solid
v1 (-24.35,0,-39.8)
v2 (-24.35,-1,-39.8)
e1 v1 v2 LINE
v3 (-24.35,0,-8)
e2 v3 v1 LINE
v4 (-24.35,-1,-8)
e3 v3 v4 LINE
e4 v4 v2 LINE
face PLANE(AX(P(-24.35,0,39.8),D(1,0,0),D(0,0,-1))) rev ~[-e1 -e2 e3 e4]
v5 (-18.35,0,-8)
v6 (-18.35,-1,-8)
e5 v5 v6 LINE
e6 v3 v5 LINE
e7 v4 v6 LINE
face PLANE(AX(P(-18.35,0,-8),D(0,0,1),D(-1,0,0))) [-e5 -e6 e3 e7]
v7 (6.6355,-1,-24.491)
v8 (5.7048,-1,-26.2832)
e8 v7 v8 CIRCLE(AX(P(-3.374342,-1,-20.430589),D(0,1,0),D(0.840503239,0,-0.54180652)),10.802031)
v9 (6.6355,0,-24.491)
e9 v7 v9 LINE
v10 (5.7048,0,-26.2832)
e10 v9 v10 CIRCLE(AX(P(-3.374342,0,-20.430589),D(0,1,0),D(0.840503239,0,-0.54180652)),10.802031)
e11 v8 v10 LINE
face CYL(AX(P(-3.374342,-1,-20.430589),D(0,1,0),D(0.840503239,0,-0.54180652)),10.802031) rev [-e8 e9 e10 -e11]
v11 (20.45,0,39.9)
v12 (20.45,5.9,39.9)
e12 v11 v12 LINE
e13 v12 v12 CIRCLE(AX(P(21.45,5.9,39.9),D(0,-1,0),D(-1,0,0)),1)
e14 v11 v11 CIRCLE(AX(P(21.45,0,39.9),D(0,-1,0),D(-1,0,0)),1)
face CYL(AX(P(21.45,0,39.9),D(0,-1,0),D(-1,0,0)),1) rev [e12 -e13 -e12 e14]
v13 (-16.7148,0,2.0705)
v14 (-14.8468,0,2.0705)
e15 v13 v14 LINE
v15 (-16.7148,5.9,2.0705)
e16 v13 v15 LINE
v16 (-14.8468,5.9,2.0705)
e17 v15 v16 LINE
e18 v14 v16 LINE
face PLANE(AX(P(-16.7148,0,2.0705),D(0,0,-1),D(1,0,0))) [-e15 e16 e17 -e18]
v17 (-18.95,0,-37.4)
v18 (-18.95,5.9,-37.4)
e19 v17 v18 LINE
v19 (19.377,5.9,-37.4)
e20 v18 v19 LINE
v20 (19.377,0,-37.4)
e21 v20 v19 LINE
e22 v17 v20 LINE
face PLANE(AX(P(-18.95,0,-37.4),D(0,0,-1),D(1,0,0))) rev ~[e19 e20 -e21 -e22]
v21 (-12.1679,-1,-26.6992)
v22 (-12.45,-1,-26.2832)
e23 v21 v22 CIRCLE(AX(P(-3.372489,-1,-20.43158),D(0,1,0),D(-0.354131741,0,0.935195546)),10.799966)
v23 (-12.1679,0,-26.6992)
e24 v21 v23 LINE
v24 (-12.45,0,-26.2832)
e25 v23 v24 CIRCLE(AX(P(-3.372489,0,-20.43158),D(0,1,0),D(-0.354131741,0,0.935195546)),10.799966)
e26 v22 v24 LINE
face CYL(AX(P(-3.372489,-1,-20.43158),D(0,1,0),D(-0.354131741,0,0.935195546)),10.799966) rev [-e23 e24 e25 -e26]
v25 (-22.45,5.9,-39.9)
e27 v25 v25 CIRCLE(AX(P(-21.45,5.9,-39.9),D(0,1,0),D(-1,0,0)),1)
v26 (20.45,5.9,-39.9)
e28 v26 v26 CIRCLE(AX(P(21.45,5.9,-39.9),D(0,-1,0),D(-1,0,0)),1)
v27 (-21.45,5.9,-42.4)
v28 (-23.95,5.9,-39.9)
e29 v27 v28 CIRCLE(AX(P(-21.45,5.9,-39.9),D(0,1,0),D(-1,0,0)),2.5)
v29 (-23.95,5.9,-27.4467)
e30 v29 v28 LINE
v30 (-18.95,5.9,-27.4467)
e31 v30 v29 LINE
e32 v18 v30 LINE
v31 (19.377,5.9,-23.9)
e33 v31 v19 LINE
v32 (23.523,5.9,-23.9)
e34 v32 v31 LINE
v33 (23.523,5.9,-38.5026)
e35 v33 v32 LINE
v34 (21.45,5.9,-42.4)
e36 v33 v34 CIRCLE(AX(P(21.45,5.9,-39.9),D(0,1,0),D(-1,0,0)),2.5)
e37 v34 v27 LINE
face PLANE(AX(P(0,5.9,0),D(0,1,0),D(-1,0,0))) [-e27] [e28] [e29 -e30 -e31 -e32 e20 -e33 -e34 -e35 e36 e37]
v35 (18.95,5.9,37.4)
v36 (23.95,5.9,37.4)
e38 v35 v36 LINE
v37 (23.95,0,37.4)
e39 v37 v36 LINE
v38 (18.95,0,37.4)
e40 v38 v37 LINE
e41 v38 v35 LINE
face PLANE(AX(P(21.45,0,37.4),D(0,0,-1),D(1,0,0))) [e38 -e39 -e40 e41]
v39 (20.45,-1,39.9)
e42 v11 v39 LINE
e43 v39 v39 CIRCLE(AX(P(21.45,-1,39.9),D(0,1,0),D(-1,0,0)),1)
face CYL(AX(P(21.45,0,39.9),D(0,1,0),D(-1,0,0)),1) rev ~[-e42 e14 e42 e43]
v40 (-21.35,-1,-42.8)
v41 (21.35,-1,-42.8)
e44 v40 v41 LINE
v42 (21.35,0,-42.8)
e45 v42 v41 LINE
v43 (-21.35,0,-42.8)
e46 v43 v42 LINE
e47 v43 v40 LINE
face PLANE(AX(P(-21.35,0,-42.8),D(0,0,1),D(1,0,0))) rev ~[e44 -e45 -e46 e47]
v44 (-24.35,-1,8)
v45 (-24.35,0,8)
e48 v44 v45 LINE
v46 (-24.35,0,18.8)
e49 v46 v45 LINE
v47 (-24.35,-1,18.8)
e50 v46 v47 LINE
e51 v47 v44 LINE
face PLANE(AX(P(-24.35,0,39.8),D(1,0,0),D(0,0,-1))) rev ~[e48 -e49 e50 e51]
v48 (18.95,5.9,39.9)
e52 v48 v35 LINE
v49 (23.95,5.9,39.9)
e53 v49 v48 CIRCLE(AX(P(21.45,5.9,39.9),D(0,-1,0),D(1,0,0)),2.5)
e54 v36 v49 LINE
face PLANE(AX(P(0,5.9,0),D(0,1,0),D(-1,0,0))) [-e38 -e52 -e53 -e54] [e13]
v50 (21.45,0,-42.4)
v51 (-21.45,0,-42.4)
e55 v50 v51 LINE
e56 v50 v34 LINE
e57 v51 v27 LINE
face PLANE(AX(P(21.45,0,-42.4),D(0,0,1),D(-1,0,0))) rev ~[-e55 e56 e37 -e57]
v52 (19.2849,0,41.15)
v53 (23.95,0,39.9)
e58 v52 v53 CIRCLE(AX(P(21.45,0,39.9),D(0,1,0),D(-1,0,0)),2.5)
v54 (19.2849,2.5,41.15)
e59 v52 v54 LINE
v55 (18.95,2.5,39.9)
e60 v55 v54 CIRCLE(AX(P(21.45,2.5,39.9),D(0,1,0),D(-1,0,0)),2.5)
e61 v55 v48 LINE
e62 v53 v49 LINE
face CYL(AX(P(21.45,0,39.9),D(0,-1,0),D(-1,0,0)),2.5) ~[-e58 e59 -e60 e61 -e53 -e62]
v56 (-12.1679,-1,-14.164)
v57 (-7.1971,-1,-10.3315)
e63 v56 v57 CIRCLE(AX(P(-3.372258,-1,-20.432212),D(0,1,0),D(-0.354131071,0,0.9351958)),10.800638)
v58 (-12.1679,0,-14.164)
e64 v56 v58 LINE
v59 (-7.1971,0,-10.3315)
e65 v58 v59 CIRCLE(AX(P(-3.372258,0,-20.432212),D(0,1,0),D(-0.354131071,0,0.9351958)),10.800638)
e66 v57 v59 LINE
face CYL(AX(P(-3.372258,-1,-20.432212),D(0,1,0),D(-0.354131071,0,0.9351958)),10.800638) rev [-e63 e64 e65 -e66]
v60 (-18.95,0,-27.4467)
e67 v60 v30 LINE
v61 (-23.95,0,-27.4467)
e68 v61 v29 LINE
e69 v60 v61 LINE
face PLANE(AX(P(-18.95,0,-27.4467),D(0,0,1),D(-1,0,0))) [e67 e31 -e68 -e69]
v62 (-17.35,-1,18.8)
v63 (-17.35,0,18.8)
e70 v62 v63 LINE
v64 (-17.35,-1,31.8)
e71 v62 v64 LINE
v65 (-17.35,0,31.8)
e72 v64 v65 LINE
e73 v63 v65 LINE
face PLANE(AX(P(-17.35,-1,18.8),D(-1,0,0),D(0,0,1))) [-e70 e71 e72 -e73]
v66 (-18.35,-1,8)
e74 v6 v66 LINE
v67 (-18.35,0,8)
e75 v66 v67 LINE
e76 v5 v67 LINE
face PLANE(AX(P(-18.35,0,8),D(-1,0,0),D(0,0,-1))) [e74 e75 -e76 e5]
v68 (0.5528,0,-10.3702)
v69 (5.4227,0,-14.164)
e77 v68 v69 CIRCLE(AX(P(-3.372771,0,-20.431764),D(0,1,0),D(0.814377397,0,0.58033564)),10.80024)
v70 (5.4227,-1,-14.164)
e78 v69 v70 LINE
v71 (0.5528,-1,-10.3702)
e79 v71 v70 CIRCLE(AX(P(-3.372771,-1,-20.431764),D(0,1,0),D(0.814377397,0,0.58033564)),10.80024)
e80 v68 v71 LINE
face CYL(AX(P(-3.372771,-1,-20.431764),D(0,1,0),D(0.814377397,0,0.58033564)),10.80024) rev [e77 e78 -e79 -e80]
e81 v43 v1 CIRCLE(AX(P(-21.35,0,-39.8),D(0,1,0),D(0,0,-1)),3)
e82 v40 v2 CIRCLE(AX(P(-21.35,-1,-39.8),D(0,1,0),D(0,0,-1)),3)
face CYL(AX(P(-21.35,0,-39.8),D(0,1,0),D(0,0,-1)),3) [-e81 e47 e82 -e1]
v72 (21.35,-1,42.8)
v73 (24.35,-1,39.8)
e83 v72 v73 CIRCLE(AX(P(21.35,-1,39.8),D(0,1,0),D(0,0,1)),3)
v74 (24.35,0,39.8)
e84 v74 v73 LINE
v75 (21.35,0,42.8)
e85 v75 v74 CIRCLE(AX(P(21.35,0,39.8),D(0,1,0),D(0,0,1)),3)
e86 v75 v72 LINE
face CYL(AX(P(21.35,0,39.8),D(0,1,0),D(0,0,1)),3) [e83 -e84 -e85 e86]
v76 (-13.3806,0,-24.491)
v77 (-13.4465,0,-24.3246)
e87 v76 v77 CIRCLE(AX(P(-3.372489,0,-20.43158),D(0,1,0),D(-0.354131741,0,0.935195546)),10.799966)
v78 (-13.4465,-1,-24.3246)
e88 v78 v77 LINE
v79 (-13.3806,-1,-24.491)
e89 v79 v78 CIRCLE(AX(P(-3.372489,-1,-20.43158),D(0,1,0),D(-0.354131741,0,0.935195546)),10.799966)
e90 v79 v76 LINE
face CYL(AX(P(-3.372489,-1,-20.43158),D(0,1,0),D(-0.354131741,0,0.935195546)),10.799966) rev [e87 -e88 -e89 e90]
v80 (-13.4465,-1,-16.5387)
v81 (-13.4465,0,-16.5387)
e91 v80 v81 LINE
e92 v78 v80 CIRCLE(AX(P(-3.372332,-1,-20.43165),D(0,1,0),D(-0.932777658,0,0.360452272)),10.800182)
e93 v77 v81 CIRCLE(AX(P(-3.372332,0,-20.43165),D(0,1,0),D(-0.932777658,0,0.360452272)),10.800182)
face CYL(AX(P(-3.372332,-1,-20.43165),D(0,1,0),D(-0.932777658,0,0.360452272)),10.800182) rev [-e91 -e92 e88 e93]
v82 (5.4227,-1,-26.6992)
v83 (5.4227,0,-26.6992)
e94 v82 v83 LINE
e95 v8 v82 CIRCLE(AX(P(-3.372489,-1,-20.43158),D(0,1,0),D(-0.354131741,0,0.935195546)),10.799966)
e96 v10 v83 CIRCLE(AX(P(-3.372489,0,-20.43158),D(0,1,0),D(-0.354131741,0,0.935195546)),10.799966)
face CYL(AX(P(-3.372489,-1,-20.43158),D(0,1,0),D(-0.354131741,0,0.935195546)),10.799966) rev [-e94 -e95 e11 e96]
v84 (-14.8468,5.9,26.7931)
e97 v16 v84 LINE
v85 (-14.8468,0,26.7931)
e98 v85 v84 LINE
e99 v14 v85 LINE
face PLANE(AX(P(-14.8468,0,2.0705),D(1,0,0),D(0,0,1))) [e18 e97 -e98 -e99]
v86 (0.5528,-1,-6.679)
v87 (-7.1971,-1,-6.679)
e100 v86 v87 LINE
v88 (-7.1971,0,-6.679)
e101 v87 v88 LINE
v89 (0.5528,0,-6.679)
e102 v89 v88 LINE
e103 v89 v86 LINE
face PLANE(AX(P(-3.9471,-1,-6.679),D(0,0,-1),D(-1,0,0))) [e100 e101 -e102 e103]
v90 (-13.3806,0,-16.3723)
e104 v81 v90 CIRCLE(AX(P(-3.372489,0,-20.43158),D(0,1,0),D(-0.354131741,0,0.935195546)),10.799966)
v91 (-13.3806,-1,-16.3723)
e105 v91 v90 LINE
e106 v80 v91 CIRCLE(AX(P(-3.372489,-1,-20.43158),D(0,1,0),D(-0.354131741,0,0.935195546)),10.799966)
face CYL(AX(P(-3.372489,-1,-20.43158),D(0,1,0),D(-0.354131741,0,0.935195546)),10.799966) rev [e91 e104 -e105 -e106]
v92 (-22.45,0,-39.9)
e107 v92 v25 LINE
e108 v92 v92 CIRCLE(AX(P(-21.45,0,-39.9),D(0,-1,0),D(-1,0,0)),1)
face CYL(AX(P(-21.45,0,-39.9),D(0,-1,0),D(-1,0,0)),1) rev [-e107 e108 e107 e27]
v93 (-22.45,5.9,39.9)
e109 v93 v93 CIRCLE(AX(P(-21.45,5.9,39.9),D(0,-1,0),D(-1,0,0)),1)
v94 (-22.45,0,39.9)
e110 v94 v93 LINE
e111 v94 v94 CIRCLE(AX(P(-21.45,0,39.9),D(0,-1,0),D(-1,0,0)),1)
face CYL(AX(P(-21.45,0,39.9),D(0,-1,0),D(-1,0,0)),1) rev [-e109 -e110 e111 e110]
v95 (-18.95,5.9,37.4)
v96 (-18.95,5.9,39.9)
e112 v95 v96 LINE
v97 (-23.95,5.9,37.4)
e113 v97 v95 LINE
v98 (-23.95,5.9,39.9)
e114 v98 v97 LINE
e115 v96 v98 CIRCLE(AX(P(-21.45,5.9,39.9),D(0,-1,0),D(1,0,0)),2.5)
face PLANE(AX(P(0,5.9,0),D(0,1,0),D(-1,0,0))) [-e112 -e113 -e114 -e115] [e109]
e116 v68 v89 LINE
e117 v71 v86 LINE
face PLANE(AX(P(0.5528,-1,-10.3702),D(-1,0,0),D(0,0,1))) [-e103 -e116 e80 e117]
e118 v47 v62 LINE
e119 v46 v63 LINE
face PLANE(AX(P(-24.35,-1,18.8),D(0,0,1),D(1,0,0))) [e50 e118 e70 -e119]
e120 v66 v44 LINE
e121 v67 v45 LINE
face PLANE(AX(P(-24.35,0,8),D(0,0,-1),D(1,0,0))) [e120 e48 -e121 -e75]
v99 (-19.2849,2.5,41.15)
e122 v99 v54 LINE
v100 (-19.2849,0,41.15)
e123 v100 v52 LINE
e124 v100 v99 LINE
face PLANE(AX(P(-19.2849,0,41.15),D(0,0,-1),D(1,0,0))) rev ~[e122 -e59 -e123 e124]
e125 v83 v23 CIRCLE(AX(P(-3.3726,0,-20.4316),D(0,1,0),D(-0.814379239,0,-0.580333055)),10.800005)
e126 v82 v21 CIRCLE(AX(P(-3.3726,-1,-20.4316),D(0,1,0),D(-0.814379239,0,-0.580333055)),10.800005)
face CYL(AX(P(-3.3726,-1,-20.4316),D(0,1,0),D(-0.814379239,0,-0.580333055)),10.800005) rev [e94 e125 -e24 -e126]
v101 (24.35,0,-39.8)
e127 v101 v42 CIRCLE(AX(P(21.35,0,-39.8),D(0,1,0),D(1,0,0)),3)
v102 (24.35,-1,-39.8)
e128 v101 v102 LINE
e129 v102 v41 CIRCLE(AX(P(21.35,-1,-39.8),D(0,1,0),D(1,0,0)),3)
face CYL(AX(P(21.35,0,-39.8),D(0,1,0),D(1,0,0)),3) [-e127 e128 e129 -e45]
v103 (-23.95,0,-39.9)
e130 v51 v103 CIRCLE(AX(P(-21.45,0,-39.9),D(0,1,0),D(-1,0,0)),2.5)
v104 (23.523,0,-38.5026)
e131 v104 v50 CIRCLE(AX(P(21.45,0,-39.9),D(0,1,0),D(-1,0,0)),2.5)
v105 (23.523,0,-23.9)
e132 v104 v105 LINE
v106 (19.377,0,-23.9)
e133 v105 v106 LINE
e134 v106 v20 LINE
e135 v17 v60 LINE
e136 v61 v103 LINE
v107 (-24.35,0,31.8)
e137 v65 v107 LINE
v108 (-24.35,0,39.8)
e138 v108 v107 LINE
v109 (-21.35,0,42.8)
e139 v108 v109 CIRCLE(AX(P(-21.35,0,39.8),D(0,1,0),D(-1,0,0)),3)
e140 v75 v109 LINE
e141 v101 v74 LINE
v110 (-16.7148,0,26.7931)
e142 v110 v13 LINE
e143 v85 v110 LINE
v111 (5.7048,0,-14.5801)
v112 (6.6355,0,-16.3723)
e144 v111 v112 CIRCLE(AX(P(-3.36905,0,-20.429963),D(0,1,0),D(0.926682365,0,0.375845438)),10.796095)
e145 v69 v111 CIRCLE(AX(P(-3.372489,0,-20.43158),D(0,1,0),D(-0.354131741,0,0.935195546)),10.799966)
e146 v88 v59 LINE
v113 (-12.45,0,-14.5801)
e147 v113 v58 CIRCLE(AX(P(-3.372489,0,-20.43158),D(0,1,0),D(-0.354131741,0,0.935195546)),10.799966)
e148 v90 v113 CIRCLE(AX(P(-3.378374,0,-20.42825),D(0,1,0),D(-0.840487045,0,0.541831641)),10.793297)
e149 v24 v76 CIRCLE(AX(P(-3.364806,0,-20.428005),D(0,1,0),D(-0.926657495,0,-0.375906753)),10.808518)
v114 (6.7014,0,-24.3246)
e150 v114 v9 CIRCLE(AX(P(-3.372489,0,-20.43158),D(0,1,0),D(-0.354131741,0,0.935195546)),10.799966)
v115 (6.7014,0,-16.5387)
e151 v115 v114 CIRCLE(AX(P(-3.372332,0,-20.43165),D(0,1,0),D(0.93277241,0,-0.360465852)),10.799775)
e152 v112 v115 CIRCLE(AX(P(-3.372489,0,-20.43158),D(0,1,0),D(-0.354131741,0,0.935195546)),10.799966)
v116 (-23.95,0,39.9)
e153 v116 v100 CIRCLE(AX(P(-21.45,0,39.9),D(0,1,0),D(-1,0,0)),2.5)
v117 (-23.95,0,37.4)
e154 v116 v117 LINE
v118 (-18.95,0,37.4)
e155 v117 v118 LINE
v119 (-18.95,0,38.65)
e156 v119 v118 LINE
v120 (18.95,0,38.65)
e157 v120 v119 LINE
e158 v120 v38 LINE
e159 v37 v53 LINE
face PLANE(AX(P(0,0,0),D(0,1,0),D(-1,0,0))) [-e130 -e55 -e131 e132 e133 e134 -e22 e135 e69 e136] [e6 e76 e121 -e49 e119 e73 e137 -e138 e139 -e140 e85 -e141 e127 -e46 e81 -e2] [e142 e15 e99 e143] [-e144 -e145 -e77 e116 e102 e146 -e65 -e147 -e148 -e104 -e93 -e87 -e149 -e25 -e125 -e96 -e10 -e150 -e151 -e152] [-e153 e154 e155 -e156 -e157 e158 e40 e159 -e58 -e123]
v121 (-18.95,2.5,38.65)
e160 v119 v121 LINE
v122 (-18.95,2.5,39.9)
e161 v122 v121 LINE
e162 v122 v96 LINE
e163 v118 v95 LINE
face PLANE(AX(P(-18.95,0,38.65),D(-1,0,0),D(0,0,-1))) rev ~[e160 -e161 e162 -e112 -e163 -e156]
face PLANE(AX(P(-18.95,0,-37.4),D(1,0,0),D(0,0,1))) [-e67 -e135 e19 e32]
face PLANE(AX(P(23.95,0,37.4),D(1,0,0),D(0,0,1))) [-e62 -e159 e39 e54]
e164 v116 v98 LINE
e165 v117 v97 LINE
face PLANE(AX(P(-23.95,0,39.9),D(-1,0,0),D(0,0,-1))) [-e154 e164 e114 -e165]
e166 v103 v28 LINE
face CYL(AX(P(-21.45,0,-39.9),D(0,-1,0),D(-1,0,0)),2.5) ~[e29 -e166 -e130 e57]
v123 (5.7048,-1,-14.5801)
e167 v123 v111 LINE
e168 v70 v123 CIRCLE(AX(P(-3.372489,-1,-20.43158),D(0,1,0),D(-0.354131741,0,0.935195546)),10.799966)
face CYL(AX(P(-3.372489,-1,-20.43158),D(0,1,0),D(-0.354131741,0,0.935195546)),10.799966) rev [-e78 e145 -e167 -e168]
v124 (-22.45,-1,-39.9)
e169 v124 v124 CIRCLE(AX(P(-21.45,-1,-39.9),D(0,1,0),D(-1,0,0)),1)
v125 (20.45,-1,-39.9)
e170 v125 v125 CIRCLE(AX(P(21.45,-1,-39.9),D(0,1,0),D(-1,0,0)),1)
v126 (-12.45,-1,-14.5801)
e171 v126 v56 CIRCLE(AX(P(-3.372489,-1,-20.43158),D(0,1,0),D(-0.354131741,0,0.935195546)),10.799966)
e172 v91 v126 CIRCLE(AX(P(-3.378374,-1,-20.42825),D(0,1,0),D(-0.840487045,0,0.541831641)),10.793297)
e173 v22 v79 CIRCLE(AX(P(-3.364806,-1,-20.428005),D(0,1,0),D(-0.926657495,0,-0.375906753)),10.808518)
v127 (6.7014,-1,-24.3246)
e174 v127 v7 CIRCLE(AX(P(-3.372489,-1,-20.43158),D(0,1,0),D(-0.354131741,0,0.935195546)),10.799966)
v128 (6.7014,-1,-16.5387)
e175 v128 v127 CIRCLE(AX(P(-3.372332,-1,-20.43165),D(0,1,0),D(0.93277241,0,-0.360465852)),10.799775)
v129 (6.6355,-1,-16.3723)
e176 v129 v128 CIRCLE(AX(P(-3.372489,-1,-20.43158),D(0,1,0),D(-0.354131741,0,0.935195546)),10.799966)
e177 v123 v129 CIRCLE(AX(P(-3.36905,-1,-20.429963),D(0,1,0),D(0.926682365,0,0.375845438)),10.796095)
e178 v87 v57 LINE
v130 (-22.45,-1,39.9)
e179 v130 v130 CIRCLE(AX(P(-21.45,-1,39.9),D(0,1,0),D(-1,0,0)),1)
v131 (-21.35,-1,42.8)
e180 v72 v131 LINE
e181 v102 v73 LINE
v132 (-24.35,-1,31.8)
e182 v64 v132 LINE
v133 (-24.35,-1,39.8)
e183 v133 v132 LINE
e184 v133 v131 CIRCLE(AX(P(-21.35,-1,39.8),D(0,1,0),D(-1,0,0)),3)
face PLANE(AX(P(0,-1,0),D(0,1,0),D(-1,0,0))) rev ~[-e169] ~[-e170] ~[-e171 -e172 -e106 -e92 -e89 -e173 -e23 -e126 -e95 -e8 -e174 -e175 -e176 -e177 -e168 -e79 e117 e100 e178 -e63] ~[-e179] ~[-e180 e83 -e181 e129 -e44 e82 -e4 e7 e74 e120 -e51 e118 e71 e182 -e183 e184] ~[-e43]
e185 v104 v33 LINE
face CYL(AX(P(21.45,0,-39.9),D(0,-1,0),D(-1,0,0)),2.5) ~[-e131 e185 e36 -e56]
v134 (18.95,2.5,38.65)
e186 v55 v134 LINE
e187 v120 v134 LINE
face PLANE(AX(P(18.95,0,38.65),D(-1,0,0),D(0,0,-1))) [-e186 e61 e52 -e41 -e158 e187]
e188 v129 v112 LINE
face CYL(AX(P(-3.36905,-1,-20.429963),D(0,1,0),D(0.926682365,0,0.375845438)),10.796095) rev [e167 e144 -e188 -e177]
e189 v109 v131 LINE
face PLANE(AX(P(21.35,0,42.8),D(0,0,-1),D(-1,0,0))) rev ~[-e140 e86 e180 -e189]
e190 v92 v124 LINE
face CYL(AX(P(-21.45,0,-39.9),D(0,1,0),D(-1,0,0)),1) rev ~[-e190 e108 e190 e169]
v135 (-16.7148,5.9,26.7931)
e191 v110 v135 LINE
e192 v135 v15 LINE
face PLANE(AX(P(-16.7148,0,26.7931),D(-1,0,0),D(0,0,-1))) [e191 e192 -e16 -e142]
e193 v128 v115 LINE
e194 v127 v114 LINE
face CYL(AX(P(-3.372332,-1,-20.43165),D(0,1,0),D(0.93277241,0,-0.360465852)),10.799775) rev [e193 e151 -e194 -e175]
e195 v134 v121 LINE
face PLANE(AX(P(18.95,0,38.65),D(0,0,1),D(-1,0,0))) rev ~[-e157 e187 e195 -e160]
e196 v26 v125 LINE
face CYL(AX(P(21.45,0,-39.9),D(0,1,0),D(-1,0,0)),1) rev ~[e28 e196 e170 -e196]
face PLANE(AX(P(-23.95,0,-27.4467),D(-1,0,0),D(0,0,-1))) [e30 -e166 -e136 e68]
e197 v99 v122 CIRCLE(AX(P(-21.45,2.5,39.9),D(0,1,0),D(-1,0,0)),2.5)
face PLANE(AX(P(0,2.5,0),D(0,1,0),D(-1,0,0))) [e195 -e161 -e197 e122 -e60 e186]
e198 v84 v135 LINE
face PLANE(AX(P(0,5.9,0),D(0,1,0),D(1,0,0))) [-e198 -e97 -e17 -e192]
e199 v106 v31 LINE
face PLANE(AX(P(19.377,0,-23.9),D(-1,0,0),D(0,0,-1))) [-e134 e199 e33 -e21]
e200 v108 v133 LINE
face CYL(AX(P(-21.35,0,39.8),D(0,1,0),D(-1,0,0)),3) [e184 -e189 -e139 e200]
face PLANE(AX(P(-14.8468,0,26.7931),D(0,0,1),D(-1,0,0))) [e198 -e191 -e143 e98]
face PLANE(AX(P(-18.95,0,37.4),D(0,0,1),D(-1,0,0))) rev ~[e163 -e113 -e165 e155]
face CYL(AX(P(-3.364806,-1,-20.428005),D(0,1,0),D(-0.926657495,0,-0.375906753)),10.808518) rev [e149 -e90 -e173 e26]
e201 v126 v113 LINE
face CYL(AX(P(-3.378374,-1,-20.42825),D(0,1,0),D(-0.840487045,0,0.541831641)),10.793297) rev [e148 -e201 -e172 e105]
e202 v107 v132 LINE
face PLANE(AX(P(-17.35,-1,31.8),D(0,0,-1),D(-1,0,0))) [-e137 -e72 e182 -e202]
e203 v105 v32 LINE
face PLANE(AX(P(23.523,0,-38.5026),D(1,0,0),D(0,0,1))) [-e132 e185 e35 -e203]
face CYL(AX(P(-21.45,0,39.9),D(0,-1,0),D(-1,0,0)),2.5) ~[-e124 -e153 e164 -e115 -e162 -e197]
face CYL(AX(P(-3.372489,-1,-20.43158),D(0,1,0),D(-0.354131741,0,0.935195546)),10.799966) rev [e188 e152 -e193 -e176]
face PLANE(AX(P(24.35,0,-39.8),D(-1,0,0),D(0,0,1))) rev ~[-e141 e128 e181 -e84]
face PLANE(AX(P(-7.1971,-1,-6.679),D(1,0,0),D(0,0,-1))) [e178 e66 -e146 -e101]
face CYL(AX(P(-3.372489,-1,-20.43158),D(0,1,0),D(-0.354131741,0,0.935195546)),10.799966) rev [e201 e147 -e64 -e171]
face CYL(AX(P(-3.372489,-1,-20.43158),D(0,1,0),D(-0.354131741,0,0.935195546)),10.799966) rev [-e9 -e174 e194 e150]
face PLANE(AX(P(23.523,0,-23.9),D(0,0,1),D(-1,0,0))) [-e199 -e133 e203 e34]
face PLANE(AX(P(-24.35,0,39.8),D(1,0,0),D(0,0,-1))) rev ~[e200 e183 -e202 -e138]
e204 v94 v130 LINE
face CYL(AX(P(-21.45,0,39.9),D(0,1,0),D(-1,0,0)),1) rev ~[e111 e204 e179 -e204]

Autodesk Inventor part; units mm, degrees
ref_plane "YZ Plane" through (0, 0, 0) normal (1, 0, 0) x (0, 1, 0)
ref_plane "XZ Plane" through (0, 0, 0) normal (0, 1, 0) x (-1, 0, 0)
ref_plane "XY Plane" through (0, 0, 0) normal (0, 0, 1) x (1, 0, 0)
sketch "Sketch1" plane through (0, 0, 0) normal (0, 1, 0) x (-1, 0, 0)
  line L0 (-21.35, 42.8) -> (21.35, 42.8)
  line L1 (24.35, 39.8) -> (24.35, -39.8)
  line L2 (21.35, -42.8) -> (-21.35, -42.8)
  line L3 (-24.35, -39.8) -> (-24.35, 39.8)
  arc A0 (24.35, 39.8) -> (21.35, 42.8) centre (21.35, 39.8) ccw
  arc A1 (21.35, -42.8) -> (24.35, -39.8) centre (21.35, -39.8) ccw
  arc A2 (-24.35, -39.8) -> (-21.35, -42.8) centre (-21.35, -39.8) ccw
  arc A3 (-21.35, 42.8) -> (-24.35, 39.8) centre (-21.35, 39.8) ccw
  line L4 (-47.6975, 0) -> (69.2667, 0) construction
  point P0 (0, 0)
  dimension "d2" = 3
sketch "Sketch2" plane through (0, 0, 0) normal (0, 1, 0) x (-1, 0, 0)
  line L0 (-24.35, 42.8) -> (24.35, -42.8) construction
  line L1 (24.35, 42.8) -> (-24.35, -42.8) construction
  circle A0 centre (21.45, 39.9) radius 1
  line L2 (0, 76.772) -> (0, -116.4578) construction
  circle A1 centre (21.45, 39.9) radius 2.5
  line L3 (19.2849, 41.15) -> (-19.2849, 41.15)
  line L4 (-19.2849, 41.15) -> (-19.2849, 38.65)
  line L5 (-19.2849, 38.65) -> (19.2849, 38.65)
  line L6 (19.2849, 38.65) -> (19.2849, 41.15)
  circle A2 centre (-21.45, 39.9) radius 2.5
  circle A3 centre (-21.45, 39.9) radius 1
  line L7 (23.95, 39.9) -> (18.95, 39.9)
  line L8 (18.95, 39.9) -> (18.95, 37.4)
  line L9 (18.95, 37.4) -> (23.95, 37.4)
  line L10 (-23.95, 39.9) -> (-18.95, 39.9)
  line L11 (-18.95, 37.4) -> (-23.95, 37.4)
  line L12 (-18.95, 39.9) -> (-18.95, 37.4)
  line L13 (24.35, 39.8) -> (24.35, -39.8) projected
  line L14 (-21.35, 42.8) -> (21.35, 42.8) projected
  arc A4 (24.35, 39.8) -> (21.35, 42.8) centre (21.35, 39.8) ccw projected
  line L15 (23.95, 39.9) -> (23.95, 37.4)
  line L16 (-23.95, 37.4) -> (-23.95, 39.9)
  point P0 (0, 0)
  point P1 (0, 0)
  point P2 (-21.35, 39.8)
  point P3 (21.45, 39.9)
  point P4 (-18.95, 38.65)
  point P5 (18.95, 38.65)
  point P6 (-21.45, 37.4)
  dimension "d16" = 48.7
  dimension "d17" = 2
  dimension "d18" = 5
  dimension "d19" = 2.5
  dimension "d20" = 2.5
  dimension "d23" = 2.9
  dimension "d24" = 2.9
  dimension "d25" = 2.9
sketch "Sketch4" plane through (0, 0, 0) normal (0, 1, 0) x (-1, 0, 0)
  circle A0 centre (21.45, -39.9) radius 2.5
  circle A1 centre (21.45, -39.9) radius 1
  circle A2 centre (-21.45, -39.9) radius 1
  circle A3 centre (-21.45, -39.9) radius 2.5
  line L0 (23.95, -39.9) -> (18.95, -39.9)
  line L1 (18.95, -39.9) -> (18.95, -27.4467)
  line L2 (18.95, -27.4467) -> (23.95, -27.4467)
  line L3 (23.95, -27.4467) -> (23.95, -39.9)
  line L4 (21.45, -37.4) -> (-21.45, -37.4)
  line L5 (-21.45, -37.4) -> (-21.45, -42.4)
  line L6 (-21.45, -42.4) -> (21.45, -42.4)
  line L7 (21.45, -42.4) -> (21.45, -37.4)
  line L8 (-19.377, -38.5026) -> (-23.523, -38.5026)
  line L9 (-23.523, -38.5026) -> (-23.523, -23.9)
  line L10 (-23.523, -23.9) -> (-19.377, -23.9)
  line L11 (-19.377, -23.9) -> (-19.377, -38.5026)
  point P0 (0, 0)
  point P1 (21.35, -42.8)
  point P2 (24.35, -39.8)
  point P3 (21.35, -39.8)
  point P4 (-24.35, -39.8)
  point P5 (-21.35, -42.8)
  point P6 (-21.35, -39.8)
  point P7 (18.95, -37.4)
  point P8 (-19.377, -37.4)
  point P9 (-21.45, -23.9)
  point P10 (-21.45, -39.9)
  dimension "d52" = 16
sketch "Sketch5" plane through (0, 0, 0) normal (0, 1, 0) x (-1, 0, 0)
  line L0 (24.35, 39.8) -> (24.35, -39.8) projected
  line L1 (24.35, 8) -> (18.35, 8)
  line L2 (18.35, 8) -> (18.35, -8)
  line L3 (18.35, -8) -> (24.35, -8)
  line L4 (24.35, -8) -> (24.35, 8)
  line L5 (31.157, 0) -> (-16.4919, 0) projected
  point P0 (0, 0)
  point P1 (18.35, 0)
  point P2 (21.35, -8)
  dimension "d21" = 16
  dimension "d22" = 6
extrude "Extrusion2" add sketch "Sketch1" against normal blind 1
extrude "Extrusion3" add sketch "Sketch2" along normal blind 2.5 contours A1 L8 L5 L12 A2 L3
extrude "Extrusion4" add sketch "Sketch2" along normal blind 5.9 contours L7 A1 L6 A0 | A0 L7 L6 A1 | L15 L9 A1 | L7 A1 L6 | L6 A1 L7 | L9 L8 L5 A1 | L5 L8 A1 | A2 L10 L4 | L4 L10 A3 A2 | L10 A2 L4 | L4 A2 L10 A3 | L12 L5 A2 | A2 L11 L16 | L12 L11 A2 L5
extrude "Extrusion5" add sketch "Sketch4" along normal up to surface (5.9 mm away) contours L0 A1 L7 A0 | A0 L7 A1 L0 | A0 L4 L1 L2 L3 | L7 A1 L0 A0 | A0 L1 L4 | L6 A3 L11 L4 L1 A0 | A0 L0 A1 L7 | L5 A2 L8 A3 | A3 L8 L5 A2 | L11 A3 L4 | L4 A3 L9 L10 L11 | A3 L5 L8 | A3 L8 L5
extrude "Extrusion6" cut sketch "Sketch4" along normal through all both and the other way through all contours L0 L7 A1 | A1 L7 L0 | L7 L0 A1 | A1 L0 L7 | L5 A2 | A2 L5
extrude "Extrusion7" cut sketch "Sketch2" along normal through all both and the other way through all contours L7 A0 | A0 L7 | L10 A3 | A3 L10
extrude "Extrusion8" cut sketch "Sketch5" along normal through all both and the other way through all
sketch "Sketch6" plane through (0, -1, 0) normal (0, -1, 0) x (1, 0, 0)
  arc A0 (5.4227, -14.164) -> (0.5528, -10.3702) centre (-3.3726, -20.4316) ccw
  line L0 (0.5528, -10.3702) -> (0.5528, -6.679)
  line L1 (0.5528, -6.679) -> (-2.7471, -6.679)
  line L2 (-2.7471, -6.679) -> (-3.9471, -6.679)
  line L3 (-3.9471, -6.679) -> (-7.1971, -6.679)
  line L4 (-7.1971, -6.679) -> (-7.1971, -10.3315)
  arc A1 (-7.1971, -10.3315) -> (-12.1679, -14.164) centre (-3.3726, -20.4316) ccw
  arc A2 (-12.45, -14.5801) -> (-13.3806, -16.3723) centre (-3.3726, -20.4316) ccw
  arc A3 (-13.4465, -16.5387) -> (-13.4465, -24.3246) centre (-3.3726, -20.4316) ccw
  arc A4 (-13.3806, -24.491) -> (-12.45, -26.2832) centre (-3.3726, -20.4316) ccw
  arc A5 (-12.1679, -26.6992) -> (5.4227, -26.6992) centre (-3.3726, -20.4316) ccw
  arc A6 (5.7048, -26.2832) -> (6.6355, -24.491) centre (-3.3726, -20.4316) ccw
  arc A7 (6.7014, -24.3246) -> (6.7014, -16.5387) centre (-3.3726, -20.4316) ccw
  arc A8 (6.6355, -16.3723) -> (5.7048, -14.5801) centre (-3.3726, -20.4316) ccw
  arc A9 (-7.1971, -10.3315) -> (0.5528, -10.3702) centre (-3.3726, -20.4316) ccw
  point P0 (0, 0)
  point P1 (-13.3806, -24.491)
  point P2 (-12.45, -26.2832)
  point P3 (-12.1679, -26.6992)
  point P4 (5.7048, -26.2832)
  point P5 (6.6355, -24.491)
  point P6 (6.7014, -24.3246)
  point P7 (6.6355, -16.3723)
  point P8 (5.7048, -14.5801)
  point P9 (5.4227, -14.164)
extrude "Extrusion9" cut sketch "Sketch6" along normal through all both and the other way through all
sketch "Sketch7" plane through (0, -1, 0) normal (0, -1, 0) x (1, 0, 0)
  line L0 (-9.9467, 38.1508) -> (9.6849, 38.1508) construction
  line L1 (9.6849, 38.1508) -> (9.6849, 29.6438) construction
  line L2 (9.6849, 29.6438) -> (-9.9467, 29.6438) construction
  line L3 (-9.9467, 29.6438) -> (-9.9467, 38.1508) construction
  point P0 (0, 0)
sketch "Sketch8" plane through (0, -1, 0) normal (0, -1, 0) x (1, 0, 0)
  line L0 (-24.35, 39.8) -> (-24.35, -39.8) projected
  line L1 (-24.35, 8) -> (-24.35, 39.8) projected
  line L2 (-24.35, 18.8) -> (-17.35, 18.8)
  line L3 (-17.35, 18.8) -> (-17.35, 31.8)
  line L4 (-17.35, 31.8) -> (-24.35, 31.8)
  line L5 (-24.35, 31.8) -> (-24.35, 18.8)
  line L6 (21.35, 42.8) -> (-21.35, 42.8) projected
  point P0 (0, 0)
  dimension "d43" = 7
  dimension "d45" = 24
  dimension "d46" = 11
extrude "Extrusion10" cut sketch "Sketch8" along normal through all both and the other way through all
sketch "Sketch9" plane through (0, 0, 0) normal (0, 1, 0) x (1, 0, 0)
  line L0 (-14.8468, -26.7931) -> (-16.7148, -26.7931)
  line L1 (-16.7148, -26.7931) -> (-16.7148, -2.0705)
  line L2 (-16.7148, -2.0705) -> (-14.8468, -2.0705)
  line L3 (-14.8468, -2.0705) -> (-14.8468, -26.7931)
  point P0 (0, 0)
extrude "Extrusion11" add sketch "Sketch9" along normal up to surface (5.9 mm away)
properties part number "my_back_metric"
